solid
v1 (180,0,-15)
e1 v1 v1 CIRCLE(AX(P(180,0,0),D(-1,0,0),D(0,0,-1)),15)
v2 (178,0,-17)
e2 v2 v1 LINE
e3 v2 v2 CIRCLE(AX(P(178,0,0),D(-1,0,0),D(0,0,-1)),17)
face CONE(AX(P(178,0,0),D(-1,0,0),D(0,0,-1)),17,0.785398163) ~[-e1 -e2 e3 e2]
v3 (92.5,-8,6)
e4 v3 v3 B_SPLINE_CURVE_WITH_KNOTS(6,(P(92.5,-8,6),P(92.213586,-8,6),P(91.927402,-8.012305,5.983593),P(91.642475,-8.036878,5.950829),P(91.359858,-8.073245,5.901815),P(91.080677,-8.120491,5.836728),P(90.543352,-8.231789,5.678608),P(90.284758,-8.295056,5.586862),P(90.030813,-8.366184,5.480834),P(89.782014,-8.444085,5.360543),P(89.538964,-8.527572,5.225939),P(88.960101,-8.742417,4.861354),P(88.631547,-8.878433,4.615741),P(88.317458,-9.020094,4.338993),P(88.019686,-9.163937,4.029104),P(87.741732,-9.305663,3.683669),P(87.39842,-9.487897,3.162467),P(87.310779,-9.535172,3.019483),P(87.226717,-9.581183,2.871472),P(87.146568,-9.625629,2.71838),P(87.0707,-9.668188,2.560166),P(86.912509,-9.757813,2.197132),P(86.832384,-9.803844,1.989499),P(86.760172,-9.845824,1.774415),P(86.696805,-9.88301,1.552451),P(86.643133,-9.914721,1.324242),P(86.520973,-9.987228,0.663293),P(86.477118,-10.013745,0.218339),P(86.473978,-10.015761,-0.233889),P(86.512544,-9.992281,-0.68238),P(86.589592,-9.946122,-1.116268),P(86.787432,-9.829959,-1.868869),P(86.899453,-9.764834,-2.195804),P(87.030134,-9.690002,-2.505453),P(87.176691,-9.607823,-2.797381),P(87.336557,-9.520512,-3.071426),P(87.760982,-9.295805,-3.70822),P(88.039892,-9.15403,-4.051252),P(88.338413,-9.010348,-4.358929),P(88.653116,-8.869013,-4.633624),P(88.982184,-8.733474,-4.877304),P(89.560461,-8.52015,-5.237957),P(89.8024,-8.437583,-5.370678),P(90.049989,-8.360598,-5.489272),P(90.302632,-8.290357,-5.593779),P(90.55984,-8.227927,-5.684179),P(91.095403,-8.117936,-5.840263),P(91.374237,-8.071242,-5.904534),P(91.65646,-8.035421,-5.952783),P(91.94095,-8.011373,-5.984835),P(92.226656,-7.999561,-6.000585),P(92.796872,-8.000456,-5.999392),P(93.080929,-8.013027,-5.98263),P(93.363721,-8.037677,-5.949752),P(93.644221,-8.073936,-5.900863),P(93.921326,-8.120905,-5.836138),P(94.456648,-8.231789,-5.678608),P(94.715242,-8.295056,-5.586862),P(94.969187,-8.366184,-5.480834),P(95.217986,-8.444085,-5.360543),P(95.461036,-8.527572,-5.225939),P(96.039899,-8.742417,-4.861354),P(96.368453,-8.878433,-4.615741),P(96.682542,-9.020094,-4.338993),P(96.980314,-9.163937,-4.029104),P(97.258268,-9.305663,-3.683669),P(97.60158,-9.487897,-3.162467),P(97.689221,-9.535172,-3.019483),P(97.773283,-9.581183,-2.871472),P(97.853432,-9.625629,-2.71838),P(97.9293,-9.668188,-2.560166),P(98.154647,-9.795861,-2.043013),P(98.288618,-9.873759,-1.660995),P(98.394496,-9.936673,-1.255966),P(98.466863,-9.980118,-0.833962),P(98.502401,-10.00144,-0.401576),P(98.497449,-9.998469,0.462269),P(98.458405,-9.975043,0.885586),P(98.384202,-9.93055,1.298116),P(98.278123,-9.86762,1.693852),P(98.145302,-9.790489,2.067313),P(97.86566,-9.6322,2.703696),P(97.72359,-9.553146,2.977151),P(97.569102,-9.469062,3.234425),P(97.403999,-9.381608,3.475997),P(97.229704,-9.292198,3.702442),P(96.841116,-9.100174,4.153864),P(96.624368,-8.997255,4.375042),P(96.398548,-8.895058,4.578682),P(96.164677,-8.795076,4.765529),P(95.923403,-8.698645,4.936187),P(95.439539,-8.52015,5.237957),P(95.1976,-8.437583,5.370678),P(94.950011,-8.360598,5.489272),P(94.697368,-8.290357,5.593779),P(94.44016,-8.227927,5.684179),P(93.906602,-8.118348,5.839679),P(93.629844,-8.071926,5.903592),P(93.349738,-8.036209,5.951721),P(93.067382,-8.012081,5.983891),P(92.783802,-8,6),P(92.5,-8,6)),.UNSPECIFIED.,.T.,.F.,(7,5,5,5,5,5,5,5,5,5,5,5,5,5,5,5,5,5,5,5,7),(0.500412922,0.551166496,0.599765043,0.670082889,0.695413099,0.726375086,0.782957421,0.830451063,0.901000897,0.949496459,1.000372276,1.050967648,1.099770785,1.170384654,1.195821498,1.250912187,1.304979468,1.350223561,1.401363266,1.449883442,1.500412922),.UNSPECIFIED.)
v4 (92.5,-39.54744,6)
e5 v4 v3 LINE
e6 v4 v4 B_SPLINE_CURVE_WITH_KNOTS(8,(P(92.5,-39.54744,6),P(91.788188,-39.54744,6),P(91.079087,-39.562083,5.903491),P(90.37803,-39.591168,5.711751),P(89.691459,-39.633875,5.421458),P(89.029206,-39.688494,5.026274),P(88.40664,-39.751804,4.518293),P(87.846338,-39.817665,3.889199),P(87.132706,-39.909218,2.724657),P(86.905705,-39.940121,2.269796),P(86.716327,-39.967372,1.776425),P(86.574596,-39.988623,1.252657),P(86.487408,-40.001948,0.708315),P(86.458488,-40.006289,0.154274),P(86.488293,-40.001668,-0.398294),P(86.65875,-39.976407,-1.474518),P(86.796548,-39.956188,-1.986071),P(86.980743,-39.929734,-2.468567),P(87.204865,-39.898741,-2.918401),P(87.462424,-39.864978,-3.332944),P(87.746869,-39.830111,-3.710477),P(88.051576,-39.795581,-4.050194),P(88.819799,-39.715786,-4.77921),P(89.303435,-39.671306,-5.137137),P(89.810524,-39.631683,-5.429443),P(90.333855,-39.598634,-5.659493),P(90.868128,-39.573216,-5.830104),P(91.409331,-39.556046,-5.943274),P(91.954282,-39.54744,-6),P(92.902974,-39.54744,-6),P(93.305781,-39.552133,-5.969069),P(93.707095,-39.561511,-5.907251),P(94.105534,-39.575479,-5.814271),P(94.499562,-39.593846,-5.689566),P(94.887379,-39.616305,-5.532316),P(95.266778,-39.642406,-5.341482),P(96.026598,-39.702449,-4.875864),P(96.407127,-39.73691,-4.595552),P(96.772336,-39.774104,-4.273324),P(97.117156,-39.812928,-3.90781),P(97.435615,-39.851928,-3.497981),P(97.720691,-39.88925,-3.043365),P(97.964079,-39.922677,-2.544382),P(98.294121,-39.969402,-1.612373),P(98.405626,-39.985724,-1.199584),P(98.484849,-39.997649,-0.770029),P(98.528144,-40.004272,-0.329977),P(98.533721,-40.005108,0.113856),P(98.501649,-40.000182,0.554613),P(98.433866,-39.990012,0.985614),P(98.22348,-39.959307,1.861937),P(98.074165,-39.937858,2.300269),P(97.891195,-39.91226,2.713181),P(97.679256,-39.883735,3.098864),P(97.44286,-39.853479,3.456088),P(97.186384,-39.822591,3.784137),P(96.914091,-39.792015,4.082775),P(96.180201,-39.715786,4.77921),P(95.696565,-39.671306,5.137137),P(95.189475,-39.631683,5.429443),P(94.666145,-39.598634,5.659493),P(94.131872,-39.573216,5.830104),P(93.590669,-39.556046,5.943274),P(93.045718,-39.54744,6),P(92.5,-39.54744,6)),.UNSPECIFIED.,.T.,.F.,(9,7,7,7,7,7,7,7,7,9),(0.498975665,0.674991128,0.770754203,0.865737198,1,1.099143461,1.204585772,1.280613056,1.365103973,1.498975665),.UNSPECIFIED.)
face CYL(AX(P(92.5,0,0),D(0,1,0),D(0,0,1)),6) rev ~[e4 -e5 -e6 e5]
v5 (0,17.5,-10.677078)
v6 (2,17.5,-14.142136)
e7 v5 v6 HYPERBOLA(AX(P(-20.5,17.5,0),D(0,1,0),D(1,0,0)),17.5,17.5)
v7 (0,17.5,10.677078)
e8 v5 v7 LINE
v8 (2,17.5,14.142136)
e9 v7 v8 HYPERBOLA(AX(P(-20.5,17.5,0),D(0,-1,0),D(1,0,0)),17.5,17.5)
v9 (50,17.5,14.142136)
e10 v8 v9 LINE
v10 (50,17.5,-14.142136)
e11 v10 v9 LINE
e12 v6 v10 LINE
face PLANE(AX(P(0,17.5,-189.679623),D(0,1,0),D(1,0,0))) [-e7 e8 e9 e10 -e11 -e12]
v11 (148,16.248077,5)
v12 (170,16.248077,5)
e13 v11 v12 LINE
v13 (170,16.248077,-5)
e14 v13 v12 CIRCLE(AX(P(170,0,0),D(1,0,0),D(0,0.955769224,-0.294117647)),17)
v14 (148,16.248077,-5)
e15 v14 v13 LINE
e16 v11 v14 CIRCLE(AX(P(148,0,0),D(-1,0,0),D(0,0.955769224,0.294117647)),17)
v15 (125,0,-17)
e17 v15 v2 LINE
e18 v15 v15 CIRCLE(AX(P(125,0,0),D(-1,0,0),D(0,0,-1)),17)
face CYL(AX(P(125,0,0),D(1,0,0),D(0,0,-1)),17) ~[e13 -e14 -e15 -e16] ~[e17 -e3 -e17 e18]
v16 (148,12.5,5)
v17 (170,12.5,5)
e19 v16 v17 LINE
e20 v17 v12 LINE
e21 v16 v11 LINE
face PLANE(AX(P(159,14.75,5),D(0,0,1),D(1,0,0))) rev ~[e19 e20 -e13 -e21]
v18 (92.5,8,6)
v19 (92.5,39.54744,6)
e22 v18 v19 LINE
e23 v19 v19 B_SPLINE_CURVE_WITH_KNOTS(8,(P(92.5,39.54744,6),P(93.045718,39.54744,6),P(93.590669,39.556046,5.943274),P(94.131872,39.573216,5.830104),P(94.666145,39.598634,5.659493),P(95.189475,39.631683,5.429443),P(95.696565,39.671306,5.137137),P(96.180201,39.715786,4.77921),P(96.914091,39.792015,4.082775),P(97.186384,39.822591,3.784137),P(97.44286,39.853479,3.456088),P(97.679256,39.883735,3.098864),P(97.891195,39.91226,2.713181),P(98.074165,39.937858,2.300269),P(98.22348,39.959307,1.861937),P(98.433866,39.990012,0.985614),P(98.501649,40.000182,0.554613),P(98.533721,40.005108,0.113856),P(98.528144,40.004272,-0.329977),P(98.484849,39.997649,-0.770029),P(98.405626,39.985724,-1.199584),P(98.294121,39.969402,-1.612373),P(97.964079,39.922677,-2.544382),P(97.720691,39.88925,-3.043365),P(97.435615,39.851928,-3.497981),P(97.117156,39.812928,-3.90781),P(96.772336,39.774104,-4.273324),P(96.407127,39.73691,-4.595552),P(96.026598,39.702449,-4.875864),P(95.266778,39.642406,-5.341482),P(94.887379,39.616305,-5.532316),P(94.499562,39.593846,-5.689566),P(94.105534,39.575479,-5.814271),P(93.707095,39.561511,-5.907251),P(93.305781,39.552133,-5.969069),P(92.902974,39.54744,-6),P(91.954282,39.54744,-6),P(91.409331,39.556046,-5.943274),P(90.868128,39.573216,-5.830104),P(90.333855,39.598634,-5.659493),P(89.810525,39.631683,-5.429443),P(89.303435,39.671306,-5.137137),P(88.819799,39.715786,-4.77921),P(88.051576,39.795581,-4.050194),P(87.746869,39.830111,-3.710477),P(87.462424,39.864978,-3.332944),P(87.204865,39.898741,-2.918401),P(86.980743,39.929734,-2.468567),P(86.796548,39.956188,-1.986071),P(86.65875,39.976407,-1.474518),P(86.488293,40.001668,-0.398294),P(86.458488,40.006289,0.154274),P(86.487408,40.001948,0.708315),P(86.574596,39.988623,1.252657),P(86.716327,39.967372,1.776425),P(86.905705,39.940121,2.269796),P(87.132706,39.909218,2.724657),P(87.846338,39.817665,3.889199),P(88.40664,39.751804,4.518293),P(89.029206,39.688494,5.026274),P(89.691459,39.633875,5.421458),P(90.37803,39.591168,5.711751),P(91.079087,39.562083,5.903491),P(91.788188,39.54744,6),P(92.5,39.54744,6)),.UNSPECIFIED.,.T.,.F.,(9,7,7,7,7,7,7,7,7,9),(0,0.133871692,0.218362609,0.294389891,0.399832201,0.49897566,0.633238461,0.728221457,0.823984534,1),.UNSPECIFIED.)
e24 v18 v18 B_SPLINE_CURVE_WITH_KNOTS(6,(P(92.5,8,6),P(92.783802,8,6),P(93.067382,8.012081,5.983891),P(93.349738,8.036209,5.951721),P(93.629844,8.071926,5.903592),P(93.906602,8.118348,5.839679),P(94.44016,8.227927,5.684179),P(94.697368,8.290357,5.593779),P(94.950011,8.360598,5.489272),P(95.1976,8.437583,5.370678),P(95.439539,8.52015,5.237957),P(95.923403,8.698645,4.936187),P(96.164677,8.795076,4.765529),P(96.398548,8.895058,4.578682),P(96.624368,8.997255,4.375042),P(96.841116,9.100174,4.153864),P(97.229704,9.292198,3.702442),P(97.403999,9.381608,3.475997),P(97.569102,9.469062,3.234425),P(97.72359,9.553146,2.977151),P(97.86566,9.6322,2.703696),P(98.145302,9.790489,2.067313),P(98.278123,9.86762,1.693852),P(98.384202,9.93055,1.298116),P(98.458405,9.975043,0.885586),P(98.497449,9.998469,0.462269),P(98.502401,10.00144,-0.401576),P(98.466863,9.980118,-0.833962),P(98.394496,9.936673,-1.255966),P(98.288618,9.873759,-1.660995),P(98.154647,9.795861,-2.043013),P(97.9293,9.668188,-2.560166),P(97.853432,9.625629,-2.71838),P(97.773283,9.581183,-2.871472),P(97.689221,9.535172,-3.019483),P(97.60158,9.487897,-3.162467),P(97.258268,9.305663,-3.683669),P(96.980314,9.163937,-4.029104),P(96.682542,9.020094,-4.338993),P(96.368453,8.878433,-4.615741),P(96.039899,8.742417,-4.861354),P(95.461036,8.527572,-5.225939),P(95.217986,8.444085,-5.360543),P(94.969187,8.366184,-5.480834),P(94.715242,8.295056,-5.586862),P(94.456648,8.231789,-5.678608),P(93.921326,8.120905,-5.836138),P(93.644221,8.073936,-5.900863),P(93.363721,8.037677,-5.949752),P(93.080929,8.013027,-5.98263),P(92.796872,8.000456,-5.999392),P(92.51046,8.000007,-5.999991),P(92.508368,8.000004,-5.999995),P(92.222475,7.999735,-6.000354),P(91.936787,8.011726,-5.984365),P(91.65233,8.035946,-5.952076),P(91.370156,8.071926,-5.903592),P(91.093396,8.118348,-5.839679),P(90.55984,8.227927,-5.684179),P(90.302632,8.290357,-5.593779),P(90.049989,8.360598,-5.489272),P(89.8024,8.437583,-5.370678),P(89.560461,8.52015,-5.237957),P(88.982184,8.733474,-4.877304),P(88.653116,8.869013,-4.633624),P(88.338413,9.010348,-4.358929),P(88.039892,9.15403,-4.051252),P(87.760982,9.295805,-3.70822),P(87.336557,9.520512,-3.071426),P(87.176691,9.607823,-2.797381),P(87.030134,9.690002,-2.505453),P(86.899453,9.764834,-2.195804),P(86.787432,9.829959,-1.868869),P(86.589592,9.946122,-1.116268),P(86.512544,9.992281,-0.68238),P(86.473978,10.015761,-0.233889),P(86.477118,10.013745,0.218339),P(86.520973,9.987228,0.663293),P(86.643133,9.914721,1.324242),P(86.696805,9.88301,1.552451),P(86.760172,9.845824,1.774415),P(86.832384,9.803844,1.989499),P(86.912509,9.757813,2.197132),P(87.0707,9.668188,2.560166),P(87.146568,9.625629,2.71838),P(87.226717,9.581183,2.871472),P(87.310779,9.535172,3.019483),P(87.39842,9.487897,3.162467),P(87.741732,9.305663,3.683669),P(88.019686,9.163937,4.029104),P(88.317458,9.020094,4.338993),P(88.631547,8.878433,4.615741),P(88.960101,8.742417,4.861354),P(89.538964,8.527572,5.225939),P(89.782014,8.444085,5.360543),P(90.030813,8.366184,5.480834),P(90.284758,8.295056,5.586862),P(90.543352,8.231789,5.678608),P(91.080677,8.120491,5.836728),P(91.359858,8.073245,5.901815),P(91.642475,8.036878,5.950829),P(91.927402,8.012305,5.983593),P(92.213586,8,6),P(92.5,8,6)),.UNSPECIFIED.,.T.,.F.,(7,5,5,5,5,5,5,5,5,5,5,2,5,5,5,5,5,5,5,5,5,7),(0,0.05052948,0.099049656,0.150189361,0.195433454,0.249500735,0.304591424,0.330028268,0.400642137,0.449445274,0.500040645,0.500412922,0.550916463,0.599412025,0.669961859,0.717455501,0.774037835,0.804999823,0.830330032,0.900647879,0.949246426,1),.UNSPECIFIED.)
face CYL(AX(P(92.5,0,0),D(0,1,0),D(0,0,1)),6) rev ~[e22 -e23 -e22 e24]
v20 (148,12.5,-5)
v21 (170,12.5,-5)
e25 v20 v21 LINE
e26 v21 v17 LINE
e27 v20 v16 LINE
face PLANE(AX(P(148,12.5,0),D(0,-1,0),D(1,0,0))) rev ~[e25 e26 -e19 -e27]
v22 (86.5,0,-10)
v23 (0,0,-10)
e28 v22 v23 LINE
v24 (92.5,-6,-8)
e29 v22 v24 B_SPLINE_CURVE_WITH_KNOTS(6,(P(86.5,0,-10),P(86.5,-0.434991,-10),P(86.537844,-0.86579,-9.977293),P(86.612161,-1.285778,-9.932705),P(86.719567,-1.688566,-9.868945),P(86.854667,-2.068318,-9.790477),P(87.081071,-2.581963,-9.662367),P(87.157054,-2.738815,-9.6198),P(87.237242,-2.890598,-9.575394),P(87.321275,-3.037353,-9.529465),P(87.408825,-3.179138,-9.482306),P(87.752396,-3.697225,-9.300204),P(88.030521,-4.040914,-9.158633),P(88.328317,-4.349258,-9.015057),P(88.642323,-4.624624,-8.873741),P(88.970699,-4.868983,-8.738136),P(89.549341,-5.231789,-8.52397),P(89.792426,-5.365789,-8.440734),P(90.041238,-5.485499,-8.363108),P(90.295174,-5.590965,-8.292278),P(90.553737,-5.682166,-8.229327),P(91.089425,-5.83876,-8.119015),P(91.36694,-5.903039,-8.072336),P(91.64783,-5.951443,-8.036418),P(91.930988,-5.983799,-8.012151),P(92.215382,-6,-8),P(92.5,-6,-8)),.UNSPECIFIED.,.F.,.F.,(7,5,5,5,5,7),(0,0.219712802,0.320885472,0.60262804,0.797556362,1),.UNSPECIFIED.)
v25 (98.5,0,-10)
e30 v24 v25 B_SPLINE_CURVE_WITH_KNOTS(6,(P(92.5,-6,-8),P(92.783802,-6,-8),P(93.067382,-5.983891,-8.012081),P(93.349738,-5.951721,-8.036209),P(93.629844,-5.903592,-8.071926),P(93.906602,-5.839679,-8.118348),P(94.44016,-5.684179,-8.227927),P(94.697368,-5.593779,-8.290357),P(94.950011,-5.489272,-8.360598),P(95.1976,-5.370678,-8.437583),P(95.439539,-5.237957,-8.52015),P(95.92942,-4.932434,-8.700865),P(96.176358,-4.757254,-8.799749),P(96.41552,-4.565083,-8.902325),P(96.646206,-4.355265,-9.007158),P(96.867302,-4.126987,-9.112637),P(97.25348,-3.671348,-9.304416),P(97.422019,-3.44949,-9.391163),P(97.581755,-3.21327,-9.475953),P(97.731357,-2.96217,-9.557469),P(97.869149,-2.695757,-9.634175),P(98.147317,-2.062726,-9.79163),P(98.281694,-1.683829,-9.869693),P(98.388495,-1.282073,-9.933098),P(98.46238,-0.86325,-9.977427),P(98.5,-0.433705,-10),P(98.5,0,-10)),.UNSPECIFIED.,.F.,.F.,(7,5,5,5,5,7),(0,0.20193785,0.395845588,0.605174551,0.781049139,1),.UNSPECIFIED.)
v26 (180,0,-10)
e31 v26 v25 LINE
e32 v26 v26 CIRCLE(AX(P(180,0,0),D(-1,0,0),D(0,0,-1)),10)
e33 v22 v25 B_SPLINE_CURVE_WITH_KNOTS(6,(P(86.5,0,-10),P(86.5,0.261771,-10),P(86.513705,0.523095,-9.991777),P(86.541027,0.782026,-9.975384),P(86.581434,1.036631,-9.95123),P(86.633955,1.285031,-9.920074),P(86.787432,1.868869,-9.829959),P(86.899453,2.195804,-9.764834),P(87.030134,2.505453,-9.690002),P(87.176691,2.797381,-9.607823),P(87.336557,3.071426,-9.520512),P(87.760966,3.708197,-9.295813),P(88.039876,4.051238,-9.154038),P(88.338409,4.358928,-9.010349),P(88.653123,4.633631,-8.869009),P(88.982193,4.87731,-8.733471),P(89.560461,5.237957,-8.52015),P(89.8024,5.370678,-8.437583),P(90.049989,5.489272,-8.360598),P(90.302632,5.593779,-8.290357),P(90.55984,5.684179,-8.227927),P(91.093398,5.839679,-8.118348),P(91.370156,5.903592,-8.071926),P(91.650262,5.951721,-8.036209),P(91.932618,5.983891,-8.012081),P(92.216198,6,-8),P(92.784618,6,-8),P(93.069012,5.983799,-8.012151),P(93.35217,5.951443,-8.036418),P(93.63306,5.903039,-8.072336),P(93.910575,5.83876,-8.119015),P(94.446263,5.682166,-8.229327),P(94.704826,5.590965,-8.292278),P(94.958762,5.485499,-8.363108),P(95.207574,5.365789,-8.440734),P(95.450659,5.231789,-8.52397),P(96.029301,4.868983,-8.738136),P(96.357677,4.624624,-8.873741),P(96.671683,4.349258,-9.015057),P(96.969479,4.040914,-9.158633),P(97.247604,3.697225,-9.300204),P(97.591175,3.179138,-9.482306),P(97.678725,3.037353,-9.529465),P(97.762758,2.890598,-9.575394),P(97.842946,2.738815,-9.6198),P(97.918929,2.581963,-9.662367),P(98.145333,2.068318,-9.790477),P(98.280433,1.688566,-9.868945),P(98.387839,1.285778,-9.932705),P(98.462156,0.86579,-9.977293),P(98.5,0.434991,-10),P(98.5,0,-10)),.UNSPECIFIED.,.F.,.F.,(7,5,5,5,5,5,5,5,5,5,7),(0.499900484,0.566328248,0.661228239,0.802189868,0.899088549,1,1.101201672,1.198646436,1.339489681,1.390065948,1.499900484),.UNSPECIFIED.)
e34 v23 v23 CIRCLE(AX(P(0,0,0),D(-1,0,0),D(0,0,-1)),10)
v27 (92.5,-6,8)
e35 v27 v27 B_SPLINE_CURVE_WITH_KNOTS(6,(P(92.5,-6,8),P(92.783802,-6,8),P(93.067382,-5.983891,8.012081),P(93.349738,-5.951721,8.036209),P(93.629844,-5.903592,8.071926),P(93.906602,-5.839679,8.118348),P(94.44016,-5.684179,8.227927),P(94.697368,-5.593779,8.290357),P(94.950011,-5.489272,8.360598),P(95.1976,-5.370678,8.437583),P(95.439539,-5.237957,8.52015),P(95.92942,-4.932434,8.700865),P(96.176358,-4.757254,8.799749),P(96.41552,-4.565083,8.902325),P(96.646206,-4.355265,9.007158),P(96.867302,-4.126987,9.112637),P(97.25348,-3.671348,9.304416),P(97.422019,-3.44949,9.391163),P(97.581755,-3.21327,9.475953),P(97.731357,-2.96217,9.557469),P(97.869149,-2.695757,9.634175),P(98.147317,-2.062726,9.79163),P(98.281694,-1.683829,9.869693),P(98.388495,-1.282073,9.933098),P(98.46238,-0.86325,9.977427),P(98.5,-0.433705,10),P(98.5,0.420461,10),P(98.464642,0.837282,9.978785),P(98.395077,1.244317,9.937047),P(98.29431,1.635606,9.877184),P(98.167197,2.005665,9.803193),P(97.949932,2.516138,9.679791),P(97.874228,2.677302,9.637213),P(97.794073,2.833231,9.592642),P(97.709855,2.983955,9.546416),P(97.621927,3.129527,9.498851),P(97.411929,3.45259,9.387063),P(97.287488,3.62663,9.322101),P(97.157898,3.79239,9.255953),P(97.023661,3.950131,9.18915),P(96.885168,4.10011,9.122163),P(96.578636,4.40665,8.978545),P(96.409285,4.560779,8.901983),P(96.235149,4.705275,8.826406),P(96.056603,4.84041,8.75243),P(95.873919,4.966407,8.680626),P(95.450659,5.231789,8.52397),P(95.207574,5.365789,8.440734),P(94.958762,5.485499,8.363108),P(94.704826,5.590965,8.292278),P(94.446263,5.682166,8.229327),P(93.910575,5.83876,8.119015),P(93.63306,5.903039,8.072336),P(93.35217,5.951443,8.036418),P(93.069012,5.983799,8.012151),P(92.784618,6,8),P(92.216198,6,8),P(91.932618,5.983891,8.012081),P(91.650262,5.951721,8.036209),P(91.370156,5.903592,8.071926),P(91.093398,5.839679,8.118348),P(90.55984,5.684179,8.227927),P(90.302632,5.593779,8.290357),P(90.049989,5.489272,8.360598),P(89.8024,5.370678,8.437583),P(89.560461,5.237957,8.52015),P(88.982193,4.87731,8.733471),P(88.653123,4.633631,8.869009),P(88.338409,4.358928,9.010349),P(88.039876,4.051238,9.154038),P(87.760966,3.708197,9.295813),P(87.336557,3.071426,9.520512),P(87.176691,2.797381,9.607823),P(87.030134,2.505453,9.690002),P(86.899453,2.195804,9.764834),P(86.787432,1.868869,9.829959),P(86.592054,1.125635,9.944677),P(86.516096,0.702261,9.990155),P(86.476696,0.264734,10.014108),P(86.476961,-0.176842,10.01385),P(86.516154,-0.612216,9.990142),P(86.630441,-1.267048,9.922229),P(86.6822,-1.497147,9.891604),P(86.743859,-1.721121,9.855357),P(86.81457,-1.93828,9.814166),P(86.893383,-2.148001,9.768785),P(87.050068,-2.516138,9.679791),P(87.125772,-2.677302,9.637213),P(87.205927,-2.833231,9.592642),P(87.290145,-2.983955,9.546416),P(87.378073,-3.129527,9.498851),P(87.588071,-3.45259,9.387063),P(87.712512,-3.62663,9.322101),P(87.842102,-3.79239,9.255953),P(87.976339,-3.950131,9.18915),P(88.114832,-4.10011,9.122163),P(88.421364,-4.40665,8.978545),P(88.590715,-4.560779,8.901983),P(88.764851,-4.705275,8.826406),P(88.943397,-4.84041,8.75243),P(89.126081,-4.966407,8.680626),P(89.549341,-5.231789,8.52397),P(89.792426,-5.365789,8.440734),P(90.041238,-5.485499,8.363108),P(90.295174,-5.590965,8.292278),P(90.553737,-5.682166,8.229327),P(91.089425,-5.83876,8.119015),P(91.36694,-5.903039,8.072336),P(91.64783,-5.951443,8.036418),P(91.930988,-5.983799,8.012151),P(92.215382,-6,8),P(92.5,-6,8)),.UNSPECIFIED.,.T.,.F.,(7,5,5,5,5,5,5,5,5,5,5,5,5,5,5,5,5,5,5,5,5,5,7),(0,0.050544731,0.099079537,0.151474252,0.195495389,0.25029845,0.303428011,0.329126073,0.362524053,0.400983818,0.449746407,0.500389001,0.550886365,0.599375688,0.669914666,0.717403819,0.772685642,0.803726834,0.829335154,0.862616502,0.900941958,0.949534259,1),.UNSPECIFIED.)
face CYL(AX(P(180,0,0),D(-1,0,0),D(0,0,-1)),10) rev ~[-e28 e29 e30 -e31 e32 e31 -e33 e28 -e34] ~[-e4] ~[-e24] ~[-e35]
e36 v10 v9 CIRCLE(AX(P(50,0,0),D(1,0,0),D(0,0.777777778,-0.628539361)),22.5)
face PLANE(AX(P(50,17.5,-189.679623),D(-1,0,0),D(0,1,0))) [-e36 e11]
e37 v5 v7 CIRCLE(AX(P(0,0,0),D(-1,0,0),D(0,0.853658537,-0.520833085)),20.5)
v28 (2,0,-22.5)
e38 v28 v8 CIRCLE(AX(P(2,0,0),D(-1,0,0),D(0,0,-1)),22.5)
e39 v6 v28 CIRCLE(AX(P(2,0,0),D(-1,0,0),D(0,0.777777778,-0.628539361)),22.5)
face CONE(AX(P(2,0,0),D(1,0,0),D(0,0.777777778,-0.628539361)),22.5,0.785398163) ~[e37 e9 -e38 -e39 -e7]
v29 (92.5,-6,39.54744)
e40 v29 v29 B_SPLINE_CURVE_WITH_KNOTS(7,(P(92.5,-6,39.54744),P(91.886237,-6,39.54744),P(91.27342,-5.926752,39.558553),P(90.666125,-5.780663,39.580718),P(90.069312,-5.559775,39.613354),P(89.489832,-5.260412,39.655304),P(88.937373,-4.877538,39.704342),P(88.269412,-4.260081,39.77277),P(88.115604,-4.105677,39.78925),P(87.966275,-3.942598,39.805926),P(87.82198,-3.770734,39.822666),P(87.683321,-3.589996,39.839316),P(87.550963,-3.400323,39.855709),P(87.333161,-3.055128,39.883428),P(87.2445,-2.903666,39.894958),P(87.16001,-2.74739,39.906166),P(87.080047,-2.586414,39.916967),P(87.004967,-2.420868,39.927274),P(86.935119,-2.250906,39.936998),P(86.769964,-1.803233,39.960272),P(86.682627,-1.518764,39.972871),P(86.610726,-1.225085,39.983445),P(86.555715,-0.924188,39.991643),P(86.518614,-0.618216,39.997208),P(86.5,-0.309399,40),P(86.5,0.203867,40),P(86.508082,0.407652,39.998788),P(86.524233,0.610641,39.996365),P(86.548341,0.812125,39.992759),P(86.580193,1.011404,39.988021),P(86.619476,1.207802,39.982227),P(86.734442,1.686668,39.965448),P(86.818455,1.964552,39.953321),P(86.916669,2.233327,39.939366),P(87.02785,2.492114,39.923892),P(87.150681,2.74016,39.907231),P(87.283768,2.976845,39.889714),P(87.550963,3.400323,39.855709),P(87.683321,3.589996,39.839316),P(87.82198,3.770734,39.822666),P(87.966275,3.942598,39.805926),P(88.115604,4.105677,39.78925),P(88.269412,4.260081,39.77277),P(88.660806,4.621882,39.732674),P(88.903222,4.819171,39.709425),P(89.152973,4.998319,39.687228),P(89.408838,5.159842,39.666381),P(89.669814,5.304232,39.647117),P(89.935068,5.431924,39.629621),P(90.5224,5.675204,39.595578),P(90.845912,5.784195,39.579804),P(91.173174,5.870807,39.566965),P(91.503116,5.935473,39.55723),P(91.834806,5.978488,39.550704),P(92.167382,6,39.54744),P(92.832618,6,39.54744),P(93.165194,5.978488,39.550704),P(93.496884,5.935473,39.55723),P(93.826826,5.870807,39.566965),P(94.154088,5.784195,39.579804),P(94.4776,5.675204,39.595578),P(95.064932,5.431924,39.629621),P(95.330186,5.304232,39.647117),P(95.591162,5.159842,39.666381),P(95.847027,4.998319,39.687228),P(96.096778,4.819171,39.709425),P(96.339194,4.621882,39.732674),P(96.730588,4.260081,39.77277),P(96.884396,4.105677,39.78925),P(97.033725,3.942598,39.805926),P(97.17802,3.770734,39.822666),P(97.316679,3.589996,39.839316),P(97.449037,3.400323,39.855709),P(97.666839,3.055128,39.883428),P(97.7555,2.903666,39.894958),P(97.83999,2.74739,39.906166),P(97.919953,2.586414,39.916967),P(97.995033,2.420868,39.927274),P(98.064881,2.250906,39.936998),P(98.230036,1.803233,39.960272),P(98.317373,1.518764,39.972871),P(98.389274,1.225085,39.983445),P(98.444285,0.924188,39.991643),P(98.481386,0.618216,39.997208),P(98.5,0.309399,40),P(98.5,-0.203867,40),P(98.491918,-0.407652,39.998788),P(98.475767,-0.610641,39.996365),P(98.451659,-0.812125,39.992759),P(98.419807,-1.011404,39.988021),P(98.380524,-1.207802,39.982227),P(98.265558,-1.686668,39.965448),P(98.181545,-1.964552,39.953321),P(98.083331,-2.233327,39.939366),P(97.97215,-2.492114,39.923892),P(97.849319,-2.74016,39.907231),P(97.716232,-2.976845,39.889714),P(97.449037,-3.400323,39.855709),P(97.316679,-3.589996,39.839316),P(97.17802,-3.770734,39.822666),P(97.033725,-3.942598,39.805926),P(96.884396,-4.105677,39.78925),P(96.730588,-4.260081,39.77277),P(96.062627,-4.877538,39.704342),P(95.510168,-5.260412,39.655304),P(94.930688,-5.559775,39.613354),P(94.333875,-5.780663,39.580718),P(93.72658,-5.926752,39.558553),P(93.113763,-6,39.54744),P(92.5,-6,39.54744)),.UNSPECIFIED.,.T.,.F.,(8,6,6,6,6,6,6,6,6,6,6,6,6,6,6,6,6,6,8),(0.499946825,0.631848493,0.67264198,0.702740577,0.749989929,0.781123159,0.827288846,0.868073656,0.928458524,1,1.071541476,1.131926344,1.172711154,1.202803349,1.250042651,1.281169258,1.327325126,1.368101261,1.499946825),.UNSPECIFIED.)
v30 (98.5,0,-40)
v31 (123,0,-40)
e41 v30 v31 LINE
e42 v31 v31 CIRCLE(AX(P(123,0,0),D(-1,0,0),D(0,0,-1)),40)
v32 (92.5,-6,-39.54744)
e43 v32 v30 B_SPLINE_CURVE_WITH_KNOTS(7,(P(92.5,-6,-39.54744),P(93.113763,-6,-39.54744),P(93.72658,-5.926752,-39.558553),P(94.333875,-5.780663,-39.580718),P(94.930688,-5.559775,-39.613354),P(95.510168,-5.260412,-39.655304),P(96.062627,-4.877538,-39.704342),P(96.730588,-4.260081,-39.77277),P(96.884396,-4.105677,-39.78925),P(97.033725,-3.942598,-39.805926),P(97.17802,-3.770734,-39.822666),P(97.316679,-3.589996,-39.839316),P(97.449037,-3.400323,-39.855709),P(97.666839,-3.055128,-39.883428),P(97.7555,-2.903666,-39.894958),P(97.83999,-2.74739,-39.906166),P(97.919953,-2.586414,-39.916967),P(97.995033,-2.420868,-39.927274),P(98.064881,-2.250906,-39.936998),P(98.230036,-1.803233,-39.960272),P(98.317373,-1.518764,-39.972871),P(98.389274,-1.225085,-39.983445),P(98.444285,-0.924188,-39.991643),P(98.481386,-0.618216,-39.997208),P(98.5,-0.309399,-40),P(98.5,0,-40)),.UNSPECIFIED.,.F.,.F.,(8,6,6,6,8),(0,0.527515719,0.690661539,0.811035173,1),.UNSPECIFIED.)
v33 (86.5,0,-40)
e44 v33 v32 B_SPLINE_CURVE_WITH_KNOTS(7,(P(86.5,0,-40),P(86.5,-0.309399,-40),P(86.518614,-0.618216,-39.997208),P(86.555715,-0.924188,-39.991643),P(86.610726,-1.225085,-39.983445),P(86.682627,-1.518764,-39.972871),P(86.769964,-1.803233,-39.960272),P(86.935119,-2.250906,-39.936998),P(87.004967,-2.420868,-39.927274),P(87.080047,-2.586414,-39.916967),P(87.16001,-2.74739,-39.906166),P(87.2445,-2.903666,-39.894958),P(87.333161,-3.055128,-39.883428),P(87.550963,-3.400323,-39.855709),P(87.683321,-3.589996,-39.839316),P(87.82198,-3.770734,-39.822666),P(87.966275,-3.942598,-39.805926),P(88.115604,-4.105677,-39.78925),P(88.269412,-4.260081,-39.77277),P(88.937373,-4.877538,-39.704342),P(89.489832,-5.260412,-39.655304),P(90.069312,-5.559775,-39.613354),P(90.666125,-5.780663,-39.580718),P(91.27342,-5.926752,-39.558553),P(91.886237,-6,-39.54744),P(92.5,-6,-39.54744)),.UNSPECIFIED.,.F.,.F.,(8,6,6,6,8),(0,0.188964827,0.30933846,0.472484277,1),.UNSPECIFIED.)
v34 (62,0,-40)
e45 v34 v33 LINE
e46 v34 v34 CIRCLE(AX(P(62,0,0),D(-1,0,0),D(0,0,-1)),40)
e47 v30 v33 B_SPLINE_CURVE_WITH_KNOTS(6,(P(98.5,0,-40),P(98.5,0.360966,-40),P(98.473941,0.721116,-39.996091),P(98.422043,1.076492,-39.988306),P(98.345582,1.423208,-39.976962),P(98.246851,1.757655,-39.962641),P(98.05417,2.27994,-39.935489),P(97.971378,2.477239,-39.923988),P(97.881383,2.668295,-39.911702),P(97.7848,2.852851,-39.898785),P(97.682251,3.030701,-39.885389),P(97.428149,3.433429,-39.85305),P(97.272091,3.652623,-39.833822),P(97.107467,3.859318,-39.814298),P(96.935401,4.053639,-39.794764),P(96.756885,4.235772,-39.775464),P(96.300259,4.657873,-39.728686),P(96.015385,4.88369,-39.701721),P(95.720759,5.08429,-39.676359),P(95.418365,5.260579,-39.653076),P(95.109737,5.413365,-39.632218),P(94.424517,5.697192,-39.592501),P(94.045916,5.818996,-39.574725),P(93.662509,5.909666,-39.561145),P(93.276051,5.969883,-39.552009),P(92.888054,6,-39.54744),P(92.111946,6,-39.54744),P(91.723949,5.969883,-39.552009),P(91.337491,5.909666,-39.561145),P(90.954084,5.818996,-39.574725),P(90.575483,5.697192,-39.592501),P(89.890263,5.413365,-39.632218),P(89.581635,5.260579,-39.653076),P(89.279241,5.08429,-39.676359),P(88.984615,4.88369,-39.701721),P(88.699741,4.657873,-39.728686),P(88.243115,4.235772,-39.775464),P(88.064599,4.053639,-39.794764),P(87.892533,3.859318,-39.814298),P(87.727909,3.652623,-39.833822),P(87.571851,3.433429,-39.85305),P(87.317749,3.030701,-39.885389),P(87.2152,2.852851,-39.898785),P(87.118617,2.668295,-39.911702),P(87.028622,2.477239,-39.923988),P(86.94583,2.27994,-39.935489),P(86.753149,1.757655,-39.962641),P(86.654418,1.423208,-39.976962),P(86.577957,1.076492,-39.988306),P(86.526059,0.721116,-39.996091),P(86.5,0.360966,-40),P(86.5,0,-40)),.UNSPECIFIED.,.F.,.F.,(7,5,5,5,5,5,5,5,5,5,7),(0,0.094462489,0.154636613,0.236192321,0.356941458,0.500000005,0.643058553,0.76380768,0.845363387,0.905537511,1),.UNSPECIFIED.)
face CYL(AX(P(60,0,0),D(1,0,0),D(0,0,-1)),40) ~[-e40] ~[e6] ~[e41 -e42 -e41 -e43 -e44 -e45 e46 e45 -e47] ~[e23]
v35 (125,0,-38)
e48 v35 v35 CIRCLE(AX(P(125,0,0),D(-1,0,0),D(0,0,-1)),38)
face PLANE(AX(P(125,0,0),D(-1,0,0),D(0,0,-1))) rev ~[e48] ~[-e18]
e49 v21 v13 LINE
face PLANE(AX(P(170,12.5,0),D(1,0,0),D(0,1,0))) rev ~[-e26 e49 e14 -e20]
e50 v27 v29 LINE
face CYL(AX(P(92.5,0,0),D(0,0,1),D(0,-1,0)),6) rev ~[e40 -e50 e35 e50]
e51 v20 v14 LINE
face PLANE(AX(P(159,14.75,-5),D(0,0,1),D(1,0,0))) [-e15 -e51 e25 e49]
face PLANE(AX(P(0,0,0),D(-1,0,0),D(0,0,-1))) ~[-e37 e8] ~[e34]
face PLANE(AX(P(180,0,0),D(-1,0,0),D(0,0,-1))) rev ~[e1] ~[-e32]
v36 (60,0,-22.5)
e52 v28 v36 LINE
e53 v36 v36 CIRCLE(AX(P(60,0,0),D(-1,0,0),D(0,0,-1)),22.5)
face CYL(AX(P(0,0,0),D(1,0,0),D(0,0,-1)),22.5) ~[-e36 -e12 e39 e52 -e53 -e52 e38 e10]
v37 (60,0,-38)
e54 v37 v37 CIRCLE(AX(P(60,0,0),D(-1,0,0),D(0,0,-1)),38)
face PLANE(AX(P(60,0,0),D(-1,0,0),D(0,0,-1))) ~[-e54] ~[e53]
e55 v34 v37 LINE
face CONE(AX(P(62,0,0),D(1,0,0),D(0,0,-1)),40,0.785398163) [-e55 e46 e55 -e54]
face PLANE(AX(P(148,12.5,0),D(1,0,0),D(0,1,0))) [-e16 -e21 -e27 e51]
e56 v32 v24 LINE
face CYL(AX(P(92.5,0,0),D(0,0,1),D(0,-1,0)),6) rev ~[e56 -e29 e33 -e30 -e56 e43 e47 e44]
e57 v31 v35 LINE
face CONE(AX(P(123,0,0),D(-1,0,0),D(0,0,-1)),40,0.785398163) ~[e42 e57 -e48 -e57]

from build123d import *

# Parameters (mm, degrees)
SKETCH_6_W                = 22
SKETCH_6_H                = 4.5
CUT_EXTRUDE_4_DEPTH       = 5
CUT_EXTRUDE_11_DEPTH      = 189.679622641
CUT_EXTRUDE_11_DEPTH_BACK = 189.679622641
SKETCH_6_3_W              = 50
SKETCH_6_3_H              = 5
SKETCH_16_R               = 6
CUT_EXTRUDE_10_DEPTH      = 189.679622641
PATTERN_CIRCULAR_1_COUNT  = 4
CHAMFER_3_SIZE            = 2


with BuildPart() as part:
    # Эскиз1 → Повернуть1 (revolve)
    with BuildSketch(Plane.XY):
        Polygon((0, 10), (0, 22.5), (60, 22.5), (60, 40), (125, 40), (125, 17), (180, 17), (180, 10), align=None)
    revolve(axis=Axis((0, 0, 0), (-1, 0, 0)))

    # Эскиз6 → Вырез-Вытянуть4 (cut, symmetric)
    with BuildSketch(Plane.XY):
        with Locations((159, 14.75)):
            Rectangle(SKETCH_6_W, SKETCH_6_H)
    extrude(amount=CUT_EXTRUDE_4_DEPTH, both=True, mode=Mode.SUBTRACT)

    # Эскиз6<3> → Вырез-Вытянуть11 (cut, two sides: drawn at the far end of the back side and taken through both)
    with BuildSketch(Plane.XY.offset(-CUT_EXTRUDE_11_DEPTH_BACK)):
        with Locations((25, 20)):
            Rectangle(SKETCH_6_3_W, SKETCH_6_3_H)
    extrude(amount=CUT_EXTRUDE_11_DEPTH + CUT_EXTRUDE_11_DEPTH_BACK, mode=Mode.SUBTRACT)

    # Эскиз16 → Вырез-Вытянуть10 (cut, symmetric)
    with BuildSketch(Plane(origin=(0, 0, 0), x_dir=(1, 0, 0), z_dir=(0, 1, 0))):
        with Locations((92.5, 0)):
            Circle(SKETCH_16_R)
    cut_extrude_10 = extrude(amount=CUT_EXTRUDE_10_DEPTH, both=True, mode=Mode.SUBTRACT)

    # Круговой массив1: Вырез-Вытянуть10 ×4 about axis
    pattern_circular_1_axis = Axis((0, 0, 0), (1, 0, 0))
    for i in range(1, PATTERN_CIRCULAR_1_COUNT):
        add(cut_extrude_10.rotate(pattern_circular_1_axis, i * 360 / PATTERN_CIRCULAR_1_COUNT), mode=Mode.SUBTRACT)

    # Фаска3
    chamfer_3_edges = [part.edges().sort_by_distance(p)[0] for p in [
        (180, -17, 0),
        (0, -22.5, 0),
        (125, -40, 0),
        (60, -40, 0),
    ]]
    chamfer(chamfer_3_edges, length=CHAMFER_3_SIZE)


solid = part.part
